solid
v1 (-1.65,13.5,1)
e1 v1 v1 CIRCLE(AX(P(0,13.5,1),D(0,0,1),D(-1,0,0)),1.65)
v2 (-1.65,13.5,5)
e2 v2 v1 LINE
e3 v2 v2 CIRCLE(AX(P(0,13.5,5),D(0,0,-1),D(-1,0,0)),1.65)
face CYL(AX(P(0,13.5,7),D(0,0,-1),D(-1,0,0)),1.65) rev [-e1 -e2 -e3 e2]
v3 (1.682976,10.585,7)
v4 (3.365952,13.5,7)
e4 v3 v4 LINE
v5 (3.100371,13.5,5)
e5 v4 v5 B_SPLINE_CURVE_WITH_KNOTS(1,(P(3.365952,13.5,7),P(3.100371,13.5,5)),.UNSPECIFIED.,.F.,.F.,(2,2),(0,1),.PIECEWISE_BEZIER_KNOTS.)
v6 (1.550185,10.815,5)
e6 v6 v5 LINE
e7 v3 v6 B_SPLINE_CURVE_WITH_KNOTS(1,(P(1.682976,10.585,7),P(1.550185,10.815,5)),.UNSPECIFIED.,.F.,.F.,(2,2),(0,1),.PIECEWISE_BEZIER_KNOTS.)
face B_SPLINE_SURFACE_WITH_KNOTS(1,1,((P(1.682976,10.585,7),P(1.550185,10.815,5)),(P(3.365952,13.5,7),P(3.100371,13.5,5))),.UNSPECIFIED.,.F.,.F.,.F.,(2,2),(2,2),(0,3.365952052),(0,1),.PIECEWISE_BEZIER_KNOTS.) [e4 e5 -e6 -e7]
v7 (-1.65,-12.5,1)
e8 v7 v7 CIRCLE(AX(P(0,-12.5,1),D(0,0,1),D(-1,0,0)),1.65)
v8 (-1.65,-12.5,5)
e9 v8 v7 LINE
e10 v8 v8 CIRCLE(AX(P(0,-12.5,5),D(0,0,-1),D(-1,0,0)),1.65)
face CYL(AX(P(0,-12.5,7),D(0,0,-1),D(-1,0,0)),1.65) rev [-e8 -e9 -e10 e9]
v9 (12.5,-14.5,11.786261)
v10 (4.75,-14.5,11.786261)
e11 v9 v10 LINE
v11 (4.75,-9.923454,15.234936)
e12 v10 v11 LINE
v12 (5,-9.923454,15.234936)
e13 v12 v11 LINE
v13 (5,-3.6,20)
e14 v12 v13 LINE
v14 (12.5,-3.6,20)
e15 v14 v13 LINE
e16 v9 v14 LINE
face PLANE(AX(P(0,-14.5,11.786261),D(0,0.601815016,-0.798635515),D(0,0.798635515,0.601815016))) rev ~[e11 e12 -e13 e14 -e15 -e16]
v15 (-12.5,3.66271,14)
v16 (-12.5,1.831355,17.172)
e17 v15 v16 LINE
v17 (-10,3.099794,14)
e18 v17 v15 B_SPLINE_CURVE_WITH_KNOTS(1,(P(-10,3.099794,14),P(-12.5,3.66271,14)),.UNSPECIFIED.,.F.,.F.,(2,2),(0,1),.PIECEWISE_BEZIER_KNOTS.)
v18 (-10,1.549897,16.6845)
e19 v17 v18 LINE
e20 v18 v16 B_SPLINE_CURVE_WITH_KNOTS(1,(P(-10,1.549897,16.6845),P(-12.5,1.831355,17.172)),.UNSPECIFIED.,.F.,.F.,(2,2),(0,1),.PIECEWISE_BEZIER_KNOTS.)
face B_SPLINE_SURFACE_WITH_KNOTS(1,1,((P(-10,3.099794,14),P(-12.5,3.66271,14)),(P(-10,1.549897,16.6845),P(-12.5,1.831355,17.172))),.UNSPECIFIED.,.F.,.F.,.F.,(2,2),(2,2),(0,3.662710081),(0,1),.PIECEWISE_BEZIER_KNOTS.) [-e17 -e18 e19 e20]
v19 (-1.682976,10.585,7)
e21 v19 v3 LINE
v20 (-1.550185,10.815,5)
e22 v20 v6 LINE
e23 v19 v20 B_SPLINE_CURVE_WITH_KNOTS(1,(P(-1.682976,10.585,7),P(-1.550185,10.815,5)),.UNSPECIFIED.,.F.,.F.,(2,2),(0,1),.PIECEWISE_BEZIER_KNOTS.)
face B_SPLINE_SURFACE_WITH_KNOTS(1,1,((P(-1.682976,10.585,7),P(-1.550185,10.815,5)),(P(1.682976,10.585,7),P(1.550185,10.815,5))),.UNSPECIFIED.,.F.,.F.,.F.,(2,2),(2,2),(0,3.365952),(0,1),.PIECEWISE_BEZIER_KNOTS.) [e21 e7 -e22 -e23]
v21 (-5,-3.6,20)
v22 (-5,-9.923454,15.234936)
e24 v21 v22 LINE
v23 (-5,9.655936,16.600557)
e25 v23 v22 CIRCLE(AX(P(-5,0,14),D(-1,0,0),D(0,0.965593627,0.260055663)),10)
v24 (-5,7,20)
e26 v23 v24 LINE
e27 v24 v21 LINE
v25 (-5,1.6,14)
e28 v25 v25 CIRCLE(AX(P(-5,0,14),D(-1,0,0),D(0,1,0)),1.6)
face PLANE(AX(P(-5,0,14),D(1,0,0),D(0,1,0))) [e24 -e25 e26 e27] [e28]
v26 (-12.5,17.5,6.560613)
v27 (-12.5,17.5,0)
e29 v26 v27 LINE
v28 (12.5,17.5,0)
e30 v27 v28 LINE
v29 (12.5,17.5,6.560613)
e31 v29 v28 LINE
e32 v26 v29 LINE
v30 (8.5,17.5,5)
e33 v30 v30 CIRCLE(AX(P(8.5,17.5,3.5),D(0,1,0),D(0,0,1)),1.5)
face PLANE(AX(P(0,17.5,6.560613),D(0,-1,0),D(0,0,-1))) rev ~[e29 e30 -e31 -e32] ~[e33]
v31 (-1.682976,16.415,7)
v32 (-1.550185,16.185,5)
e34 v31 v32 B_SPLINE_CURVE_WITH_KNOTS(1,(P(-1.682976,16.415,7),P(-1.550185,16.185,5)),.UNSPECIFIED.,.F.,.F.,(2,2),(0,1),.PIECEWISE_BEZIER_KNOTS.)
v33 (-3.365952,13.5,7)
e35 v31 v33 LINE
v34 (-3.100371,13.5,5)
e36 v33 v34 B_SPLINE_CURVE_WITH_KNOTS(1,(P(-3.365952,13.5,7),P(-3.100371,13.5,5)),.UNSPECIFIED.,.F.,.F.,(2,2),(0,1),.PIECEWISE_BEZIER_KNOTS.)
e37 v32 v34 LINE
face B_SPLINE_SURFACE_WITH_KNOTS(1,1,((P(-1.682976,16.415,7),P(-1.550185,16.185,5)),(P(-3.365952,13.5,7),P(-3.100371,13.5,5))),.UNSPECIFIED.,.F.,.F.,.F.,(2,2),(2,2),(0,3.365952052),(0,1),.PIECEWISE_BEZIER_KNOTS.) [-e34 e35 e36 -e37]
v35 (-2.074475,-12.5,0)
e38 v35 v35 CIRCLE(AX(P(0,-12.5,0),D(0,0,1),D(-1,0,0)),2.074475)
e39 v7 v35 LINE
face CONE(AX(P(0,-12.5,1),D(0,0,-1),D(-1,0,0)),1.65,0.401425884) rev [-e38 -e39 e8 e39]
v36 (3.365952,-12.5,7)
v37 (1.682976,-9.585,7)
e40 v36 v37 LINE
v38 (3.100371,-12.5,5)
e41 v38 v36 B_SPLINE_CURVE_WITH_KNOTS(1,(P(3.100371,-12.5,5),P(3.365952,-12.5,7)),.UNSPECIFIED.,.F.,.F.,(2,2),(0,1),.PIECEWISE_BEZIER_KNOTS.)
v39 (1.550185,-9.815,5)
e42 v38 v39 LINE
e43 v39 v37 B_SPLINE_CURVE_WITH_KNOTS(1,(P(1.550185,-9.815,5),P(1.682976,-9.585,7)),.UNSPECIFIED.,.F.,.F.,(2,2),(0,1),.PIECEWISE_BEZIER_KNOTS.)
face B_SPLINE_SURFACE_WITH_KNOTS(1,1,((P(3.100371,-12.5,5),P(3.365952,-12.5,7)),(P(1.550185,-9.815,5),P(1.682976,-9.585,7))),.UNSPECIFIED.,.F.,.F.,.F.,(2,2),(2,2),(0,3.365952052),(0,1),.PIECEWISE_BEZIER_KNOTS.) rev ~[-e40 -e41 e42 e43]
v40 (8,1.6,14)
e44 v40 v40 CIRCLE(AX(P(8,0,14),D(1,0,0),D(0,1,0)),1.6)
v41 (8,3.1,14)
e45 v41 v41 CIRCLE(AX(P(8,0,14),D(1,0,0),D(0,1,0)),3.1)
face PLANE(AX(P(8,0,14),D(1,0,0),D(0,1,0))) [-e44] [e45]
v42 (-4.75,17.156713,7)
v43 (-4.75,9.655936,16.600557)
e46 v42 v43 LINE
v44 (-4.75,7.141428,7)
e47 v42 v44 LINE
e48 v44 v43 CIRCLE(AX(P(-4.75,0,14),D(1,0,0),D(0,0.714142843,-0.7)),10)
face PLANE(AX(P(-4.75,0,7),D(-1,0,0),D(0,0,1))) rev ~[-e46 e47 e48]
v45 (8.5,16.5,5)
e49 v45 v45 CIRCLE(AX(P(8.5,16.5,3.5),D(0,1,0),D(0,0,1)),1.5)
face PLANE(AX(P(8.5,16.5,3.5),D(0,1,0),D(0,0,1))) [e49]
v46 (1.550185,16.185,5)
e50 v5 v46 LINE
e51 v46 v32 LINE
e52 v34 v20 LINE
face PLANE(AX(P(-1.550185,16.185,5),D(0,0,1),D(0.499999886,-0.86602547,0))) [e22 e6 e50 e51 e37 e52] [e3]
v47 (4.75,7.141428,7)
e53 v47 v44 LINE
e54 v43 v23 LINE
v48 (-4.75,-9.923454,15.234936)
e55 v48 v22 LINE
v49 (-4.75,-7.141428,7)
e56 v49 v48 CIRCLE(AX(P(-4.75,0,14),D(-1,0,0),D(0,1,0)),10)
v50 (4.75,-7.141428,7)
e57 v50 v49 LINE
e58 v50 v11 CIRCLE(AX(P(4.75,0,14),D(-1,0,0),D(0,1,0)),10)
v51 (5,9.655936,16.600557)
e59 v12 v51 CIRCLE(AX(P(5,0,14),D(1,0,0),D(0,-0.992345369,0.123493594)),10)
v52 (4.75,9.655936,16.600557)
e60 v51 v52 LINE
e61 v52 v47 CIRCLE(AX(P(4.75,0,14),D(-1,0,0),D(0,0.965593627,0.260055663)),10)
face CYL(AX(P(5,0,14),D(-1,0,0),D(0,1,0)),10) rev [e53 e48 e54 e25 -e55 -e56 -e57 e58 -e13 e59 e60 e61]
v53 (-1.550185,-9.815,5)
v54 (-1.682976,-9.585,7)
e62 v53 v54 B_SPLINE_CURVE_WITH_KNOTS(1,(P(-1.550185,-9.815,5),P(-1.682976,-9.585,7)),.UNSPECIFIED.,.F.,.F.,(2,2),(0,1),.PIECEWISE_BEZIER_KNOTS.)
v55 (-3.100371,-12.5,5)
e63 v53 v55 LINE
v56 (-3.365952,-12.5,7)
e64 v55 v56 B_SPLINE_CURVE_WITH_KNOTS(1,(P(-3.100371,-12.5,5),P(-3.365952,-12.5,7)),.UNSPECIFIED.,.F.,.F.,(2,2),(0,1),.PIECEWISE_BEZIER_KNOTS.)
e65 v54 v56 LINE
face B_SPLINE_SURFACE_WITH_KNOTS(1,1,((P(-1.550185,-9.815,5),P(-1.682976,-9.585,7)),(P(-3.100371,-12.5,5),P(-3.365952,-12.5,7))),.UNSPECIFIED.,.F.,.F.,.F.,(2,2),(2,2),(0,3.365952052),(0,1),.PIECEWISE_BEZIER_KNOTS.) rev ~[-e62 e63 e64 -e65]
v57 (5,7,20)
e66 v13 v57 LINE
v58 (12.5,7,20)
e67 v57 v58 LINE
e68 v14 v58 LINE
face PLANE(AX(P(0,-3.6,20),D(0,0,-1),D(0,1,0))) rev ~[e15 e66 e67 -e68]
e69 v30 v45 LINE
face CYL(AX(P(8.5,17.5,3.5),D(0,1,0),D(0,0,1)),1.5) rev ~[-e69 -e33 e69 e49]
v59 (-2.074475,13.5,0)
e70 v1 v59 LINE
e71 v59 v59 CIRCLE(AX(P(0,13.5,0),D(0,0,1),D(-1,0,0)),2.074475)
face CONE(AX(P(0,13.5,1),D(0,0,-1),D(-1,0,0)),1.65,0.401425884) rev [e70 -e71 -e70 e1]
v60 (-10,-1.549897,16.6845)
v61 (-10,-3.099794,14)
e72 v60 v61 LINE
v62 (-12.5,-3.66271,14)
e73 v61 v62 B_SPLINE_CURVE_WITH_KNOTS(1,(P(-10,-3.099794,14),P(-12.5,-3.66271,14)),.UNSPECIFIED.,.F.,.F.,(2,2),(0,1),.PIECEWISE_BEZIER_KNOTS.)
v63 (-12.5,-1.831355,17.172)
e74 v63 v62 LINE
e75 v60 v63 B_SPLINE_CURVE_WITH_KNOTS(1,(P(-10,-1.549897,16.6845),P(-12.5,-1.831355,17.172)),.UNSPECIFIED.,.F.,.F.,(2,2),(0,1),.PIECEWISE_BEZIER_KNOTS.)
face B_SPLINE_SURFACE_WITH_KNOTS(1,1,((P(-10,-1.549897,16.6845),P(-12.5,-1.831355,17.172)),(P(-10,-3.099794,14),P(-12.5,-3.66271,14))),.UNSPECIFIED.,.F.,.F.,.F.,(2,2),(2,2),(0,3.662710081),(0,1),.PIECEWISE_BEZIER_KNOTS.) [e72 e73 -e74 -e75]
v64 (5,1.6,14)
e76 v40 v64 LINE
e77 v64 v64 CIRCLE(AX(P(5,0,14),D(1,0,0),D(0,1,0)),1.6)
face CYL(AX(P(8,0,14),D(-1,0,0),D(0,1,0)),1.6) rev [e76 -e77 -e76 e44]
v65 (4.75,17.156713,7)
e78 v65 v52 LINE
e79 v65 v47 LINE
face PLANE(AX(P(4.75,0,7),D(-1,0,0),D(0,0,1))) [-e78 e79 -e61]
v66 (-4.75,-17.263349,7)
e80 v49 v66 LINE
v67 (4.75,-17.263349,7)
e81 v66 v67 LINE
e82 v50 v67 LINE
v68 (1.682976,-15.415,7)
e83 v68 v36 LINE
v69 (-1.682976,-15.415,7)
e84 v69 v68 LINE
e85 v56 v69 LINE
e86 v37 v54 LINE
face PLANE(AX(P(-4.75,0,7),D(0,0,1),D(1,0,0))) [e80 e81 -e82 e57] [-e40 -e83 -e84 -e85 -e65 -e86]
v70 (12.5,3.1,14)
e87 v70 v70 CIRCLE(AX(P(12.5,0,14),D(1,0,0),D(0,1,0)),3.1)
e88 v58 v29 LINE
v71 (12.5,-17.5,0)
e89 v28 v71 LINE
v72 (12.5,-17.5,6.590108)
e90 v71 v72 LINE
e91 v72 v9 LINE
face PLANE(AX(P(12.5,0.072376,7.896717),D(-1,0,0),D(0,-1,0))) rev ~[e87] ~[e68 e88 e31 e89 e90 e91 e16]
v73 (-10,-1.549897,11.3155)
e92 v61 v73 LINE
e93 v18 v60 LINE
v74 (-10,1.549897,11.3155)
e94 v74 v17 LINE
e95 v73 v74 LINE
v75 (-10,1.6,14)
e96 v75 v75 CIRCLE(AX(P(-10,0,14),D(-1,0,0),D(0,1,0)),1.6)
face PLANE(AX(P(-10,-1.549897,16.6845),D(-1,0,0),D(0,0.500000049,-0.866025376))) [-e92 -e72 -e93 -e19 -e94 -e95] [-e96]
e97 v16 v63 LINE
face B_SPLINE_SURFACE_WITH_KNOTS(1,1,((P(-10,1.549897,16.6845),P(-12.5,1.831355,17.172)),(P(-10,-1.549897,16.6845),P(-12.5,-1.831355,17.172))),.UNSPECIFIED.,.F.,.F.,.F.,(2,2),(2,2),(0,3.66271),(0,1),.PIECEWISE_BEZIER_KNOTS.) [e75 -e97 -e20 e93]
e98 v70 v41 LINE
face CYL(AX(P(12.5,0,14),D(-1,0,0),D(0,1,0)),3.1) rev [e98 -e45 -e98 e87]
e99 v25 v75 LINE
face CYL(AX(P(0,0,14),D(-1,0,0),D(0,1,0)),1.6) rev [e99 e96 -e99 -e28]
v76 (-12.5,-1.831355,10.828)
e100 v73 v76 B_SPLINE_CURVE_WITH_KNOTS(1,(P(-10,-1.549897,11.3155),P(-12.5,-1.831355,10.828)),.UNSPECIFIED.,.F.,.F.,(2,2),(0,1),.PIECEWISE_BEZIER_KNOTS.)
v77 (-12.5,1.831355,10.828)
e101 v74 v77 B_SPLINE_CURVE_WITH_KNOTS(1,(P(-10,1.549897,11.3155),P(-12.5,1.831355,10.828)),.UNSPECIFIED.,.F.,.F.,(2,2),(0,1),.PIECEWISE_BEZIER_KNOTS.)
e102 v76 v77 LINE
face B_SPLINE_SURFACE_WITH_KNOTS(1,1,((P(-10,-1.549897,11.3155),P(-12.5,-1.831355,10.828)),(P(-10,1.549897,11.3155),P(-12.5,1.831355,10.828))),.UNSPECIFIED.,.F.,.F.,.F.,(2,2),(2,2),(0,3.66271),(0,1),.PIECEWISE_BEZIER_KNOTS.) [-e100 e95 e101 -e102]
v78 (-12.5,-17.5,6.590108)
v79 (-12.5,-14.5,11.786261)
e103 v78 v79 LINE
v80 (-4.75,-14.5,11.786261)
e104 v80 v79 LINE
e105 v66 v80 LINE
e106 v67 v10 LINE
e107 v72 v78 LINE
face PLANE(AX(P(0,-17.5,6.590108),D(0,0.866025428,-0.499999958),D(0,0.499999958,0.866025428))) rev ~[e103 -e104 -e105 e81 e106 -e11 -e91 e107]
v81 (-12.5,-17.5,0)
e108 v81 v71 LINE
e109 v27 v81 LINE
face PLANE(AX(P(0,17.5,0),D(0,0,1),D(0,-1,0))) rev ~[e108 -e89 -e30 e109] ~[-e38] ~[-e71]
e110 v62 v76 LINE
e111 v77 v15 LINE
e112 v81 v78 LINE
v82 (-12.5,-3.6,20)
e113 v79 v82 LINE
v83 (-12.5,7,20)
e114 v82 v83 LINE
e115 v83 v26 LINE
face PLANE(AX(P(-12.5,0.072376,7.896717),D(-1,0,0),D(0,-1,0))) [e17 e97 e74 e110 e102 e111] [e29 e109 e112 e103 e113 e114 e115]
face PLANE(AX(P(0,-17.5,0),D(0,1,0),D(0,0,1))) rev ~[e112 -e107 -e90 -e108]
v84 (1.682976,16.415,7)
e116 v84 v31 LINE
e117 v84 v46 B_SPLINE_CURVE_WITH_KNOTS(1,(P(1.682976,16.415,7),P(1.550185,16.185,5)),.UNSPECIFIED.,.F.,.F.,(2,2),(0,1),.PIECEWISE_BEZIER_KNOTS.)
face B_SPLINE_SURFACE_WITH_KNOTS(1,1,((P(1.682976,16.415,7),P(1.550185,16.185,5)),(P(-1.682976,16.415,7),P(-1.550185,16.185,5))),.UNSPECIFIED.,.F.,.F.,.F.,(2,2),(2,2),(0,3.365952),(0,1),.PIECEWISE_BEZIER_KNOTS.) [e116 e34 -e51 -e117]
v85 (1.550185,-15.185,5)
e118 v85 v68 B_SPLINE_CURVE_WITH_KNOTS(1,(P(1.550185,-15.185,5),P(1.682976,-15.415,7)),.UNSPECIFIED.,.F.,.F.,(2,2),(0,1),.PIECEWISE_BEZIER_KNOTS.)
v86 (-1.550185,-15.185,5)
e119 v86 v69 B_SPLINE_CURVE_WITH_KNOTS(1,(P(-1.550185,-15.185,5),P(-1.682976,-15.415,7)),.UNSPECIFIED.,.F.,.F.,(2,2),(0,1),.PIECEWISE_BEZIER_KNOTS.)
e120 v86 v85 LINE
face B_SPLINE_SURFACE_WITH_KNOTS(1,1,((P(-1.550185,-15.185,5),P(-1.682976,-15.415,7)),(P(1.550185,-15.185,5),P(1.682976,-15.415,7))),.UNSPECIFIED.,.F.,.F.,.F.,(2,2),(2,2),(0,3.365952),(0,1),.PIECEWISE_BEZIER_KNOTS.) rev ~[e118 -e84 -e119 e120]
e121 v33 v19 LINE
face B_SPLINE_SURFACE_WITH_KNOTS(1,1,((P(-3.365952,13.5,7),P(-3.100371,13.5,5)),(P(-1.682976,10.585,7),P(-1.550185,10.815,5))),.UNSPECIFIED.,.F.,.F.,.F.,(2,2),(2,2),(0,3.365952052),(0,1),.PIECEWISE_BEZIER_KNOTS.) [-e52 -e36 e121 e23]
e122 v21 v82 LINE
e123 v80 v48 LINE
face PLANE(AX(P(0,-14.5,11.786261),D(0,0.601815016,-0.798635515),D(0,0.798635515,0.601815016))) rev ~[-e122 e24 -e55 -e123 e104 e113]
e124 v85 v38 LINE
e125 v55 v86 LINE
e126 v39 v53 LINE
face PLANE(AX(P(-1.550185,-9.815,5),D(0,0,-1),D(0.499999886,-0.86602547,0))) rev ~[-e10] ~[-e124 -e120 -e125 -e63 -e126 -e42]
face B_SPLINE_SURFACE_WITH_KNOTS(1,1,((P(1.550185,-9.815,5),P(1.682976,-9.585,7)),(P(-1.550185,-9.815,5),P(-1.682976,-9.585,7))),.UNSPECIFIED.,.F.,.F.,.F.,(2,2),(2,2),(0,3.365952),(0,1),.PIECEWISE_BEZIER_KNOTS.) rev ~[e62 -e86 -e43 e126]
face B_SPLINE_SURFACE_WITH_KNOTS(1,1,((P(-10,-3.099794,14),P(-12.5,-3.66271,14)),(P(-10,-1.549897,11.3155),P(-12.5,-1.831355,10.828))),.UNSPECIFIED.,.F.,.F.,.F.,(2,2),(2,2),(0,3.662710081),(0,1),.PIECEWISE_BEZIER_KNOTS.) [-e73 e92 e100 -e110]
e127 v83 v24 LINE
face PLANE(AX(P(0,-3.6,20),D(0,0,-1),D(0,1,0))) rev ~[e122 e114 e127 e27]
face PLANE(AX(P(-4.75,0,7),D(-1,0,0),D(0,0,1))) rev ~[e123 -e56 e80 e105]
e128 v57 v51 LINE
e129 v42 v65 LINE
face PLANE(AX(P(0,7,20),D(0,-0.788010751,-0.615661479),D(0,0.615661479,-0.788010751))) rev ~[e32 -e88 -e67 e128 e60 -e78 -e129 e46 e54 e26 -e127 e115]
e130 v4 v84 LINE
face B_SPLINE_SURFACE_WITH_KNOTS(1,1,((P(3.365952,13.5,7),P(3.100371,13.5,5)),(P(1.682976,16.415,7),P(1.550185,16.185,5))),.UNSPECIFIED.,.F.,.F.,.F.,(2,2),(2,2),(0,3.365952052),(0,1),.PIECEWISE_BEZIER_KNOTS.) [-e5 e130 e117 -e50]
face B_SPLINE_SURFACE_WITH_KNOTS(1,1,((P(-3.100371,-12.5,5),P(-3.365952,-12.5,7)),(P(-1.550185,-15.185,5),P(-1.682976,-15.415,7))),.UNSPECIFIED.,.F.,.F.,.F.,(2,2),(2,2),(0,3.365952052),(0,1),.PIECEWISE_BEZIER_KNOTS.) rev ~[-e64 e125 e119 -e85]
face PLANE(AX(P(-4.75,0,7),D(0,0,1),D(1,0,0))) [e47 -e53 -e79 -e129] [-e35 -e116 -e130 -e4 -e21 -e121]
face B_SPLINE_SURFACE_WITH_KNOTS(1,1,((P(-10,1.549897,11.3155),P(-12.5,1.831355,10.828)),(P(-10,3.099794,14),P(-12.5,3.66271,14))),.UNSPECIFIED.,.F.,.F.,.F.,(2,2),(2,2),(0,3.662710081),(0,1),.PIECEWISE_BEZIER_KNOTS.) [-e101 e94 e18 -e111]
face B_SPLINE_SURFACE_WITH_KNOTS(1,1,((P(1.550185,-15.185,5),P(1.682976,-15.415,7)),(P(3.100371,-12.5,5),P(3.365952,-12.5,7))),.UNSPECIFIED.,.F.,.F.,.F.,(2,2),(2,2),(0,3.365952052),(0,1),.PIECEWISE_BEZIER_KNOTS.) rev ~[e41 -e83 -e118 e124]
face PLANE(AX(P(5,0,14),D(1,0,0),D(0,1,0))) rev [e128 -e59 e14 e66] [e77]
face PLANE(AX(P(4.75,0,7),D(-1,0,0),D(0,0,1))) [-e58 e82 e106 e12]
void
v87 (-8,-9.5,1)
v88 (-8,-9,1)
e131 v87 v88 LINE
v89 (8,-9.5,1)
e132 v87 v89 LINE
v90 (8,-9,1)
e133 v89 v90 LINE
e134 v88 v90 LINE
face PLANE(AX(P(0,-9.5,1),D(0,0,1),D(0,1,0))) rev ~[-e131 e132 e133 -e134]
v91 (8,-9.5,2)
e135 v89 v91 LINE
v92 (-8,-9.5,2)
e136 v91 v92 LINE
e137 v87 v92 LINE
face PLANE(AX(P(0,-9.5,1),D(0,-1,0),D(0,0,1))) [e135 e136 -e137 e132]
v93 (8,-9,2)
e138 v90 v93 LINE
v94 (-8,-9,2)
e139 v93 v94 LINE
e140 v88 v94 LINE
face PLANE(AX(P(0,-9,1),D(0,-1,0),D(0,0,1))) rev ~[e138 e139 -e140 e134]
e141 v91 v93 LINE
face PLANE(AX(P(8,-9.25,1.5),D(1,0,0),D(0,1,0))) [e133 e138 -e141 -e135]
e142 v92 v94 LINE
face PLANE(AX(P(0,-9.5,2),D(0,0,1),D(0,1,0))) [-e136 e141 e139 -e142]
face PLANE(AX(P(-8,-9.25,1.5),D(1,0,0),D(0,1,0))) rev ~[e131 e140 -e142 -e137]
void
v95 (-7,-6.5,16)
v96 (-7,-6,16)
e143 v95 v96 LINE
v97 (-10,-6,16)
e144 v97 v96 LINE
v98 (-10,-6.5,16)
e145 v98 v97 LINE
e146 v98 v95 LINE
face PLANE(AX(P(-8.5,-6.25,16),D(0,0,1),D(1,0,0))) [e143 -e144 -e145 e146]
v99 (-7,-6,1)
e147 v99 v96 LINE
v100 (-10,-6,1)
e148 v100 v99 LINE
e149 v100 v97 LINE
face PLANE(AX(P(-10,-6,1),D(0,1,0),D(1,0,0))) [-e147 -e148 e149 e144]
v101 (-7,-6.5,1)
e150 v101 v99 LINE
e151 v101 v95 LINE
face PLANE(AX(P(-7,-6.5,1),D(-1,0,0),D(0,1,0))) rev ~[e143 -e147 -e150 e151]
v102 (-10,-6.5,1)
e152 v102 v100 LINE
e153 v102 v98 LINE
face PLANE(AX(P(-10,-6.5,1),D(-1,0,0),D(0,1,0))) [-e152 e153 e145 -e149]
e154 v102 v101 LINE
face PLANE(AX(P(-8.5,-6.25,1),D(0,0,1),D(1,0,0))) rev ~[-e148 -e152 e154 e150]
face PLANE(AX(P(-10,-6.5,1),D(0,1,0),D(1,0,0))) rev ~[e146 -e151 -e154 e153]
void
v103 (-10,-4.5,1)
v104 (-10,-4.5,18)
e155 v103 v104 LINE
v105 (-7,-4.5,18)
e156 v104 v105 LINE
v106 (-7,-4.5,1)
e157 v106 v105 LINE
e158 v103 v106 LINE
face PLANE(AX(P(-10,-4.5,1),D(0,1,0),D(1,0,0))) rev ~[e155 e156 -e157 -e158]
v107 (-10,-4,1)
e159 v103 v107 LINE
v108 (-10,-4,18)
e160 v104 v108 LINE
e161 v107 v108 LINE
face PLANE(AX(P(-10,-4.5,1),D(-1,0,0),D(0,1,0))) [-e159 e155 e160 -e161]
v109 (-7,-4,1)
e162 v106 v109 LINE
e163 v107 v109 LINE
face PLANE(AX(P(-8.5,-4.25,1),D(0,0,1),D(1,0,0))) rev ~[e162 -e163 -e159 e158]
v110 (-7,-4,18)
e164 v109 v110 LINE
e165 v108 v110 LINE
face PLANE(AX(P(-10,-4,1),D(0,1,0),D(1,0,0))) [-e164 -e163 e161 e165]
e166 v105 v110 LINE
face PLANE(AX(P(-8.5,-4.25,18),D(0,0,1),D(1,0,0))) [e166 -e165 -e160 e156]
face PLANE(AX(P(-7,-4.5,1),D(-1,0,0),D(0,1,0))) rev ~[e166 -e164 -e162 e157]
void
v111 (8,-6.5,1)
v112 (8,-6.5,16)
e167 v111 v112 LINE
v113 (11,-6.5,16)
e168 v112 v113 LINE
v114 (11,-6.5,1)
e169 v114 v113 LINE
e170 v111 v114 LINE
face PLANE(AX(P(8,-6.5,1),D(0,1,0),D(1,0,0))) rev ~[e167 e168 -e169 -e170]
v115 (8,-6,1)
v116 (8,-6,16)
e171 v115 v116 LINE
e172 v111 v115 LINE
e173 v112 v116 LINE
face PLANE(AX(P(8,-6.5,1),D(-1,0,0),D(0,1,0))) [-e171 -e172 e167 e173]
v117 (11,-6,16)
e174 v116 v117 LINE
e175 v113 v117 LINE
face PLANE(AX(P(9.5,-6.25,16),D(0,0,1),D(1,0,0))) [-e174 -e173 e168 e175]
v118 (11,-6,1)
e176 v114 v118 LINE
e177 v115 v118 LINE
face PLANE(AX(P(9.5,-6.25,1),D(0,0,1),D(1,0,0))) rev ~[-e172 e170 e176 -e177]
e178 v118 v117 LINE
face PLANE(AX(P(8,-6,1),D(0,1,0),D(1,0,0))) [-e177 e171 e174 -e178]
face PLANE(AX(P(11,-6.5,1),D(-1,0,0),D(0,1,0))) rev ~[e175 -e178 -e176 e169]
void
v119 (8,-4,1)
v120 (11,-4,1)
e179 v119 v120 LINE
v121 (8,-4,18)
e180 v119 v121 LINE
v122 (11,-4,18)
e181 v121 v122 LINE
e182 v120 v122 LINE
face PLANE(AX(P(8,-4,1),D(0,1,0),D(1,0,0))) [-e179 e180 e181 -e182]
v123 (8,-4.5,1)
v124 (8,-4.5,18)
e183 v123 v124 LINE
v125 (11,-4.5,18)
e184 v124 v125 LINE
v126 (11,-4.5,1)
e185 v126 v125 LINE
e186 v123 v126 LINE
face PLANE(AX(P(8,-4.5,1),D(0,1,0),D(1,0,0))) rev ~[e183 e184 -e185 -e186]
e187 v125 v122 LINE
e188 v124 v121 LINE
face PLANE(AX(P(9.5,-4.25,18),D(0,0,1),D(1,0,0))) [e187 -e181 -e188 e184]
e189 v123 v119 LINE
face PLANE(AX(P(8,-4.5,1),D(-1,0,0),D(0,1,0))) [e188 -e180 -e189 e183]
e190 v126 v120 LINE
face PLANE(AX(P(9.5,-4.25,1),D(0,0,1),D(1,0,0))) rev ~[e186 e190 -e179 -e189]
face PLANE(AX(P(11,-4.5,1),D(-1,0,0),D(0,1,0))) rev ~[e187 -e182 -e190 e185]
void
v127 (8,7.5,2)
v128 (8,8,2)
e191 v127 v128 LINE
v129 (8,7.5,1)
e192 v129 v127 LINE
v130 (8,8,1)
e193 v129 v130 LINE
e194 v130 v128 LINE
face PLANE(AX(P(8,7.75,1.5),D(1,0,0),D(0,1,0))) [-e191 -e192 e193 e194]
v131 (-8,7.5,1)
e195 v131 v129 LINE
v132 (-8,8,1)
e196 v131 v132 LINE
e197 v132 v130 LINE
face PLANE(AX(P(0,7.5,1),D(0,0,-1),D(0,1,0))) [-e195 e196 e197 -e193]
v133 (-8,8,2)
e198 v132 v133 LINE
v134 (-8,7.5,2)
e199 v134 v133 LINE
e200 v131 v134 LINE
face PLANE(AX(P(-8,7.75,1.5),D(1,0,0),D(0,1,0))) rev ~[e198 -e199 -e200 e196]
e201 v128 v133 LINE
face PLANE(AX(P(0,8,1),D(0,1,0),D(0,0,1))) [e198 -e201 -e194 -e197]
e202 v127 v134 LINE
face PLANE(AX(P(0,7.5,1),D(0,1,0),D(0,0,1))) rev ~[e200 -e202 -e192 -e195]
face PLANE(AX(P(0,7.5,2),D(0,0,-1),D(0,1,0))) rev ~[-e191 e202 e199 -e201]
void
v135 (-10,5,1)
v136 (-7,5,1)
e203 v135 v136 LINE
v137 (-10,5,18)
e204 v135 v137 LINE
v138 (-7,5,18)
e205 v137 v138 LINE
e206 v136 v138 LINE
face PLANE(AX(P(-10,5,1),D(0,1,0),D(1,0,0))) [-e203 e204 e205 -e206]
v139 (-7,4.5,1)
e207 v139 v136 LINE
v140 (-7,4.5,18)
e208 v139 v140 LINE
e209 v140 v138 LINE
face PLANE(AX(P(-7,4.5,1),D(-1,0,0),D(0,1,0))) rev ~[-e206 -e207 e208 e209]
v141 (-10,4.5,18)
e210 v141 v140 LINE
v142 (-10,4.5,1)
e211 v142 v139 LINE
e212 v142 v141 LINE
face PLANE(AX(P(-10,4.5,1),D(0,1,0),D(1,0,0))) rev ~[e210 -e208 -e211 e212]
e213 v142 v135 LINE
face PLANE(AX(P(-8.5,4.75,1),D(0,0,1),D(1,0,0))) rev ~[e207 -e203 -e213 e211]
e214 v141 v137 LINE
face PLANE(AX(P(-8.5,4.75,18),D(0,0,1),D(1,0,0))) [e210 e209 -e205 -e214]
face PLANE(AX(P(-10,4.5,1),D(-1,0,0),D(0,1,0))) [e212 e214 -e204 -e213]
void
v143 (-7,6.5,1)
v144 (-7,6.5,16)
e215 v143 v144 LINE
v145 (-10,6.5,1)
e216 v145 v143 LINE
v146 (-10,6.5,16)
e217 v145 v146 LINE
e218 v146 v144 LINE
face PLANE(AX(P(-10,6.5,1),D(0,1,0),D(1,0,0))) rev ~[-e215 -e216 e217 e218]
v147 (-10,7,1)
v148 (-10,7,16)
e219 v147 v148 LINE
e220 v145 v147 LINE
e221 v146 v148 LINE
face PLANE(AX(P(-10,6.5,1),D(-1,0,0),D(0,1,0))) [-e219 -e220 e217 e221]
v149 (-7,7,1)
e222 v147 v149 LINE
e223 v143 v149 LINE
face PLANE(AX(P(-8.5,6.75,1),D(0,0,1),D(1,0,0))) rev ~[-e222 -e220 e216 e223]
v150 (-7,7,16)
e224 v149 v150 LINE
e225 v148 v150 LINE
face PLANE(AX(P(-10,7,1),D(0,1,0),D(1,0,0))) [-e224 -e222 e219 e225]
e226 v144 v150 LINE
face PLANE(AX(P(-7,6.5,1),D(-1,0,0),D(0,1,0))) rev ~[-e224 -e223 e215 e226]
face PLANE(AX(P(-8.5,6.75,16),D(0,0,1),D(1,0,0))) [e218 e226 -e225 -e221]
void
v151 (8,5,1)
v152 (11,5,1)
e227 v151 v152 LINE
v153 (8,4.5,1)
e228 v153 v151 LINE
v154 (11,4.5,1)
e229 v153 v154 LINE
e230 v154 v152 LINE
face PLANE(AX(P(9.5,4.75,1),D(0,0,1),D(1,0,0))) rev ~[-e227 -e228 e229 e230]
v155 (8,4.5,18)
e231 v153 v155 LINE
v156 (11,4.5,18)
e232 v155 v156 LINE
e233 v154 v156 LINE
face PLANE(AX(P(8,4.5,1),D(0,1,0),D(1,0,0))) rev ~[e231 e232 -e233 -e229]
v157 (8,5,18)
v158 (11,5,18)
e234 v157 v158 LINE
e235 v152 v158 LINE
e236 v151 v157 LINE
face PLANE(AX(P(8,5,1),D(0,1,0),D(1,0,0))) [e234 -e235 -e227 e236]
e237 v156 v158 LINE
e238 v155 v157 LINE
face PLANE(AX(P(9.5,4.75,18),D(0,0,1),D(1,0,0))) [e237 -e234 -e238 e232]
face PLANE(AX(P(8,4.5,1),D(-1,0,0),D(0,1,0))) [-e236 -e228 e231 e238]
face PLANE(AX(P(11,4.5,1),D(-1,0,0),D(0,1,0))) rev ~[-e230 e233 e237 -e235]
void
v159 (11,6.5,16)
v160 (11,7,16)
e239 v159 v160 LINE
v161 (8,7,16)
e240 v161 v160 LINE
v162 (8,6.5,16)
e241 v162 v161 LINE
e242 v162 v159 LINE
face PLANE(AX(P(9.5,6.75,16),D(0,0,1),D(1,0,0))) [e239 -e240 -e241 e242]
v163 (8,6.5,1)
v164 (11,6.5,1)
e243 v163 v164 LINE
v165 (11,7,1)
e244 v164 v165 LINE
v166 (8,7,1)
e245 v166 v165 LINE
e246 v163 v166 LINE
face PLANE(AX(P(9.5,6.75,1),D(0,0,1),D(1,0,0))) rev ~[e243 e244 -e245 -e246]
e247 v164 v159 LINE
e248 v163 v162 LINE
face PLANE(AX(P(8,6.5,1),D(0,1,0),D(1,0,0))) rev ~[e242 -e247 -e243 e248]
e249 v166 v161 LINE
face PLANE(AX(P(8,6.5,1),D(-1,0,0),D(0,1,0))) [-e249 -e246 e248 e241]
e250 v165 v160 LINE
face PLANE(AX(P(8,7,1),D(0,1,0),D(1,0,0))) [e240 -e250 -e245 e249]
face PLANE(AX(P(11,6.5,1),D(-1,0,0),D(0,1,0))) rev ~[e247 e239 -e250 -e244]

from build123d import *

# Parameters (mm, degrees)
SKETCH_R          = 1.6
PAD_DEPTH         = 12.5
SKETCH001_W       = 9.5
SKETCH001_H       = 14
POCKET_DEPTH      = 17.501
POCKET_DEPTH_BACK = -17.501
SKETCH011_R       = 1.5
POCKET001_DEPTH   = 1
SKETCH012_W       = 0.5
SKETCH012_H       = 1
POCKET002_DEPTH   = 8
SKETCH013_W       = 3
SKETCH013_H       = 0.5
POCKET003_DEPTH   = 17
SKETCH014_W       = 3
SKETCH014_H       = 0.5
POCKET004_DEPTH   = 15


with BuildPart() as part:
    # Sketch → Pad (new body, symmetric)
    with BuildSketch(Plane.YZ):
        Polygon((-17.5, 0), (-17.5, 6.590108), (-14.5, 11.786261), (-3.6, 20), (7, 20), (17.5, 6.560613), (17.5, 0), align=None)
        with Locations((0, 14)):
            Circle(SKETCH_R, mode=Mode.SUBTRACT)
    extrude(amount=PAD_DEPTH, both=True)

    # Sketch001 → Pocket (cut, two sides)
    with BuildSketch(Plane.XZ) as pocket_sk:
        with Locations((0, 14)):
            Rectangle(SKETCH001_W, SKETCH001_H)
    extrude(amount=-POCKET_DEPTH, mode=Mode.SUBTRACT)
    extrude(pocket_sk.sketch, amount=-POCKET_DEPTH_BACK, mode=Mode.SUBTRACT)

    # Sketch002 → Groove (revolve, cut)
    with BuildSketch(Plane.XY.offset(14)):
        Polygon((-5, 0), (12.5, 0), (12.5, 3.1), (8, 3.1), (8, 1.6), (5, 1.6), (5, 10), (-5, 10), align=None)
    revolve(axis=Axis((-5, 0, 14), (1, 0, 0)), mode=Mode.SUBTRACT)

    # Sketch004 → SubtractiveLoft section 0
    with BuildSketch(Plane.YZ.offset(-10)):
        Polygon((-1.549897, 16.6845), (-3.099794, 14), (-1.549897, 11.3155), (1.549897, 11.3155), (3.099794, 14), (1.549897, 16.6845), align=None)
    # Sketch003 → SubtractiveLoft section 1
    with BuildSketch(Plane.YZ.offset(-12.5)):
        Polygon((-3.66271, 14), (-1.831355, 10.828), (1.831355, 10.828), (3.66271, 14), (1.831355, 17.172), (-1.831355, 17.172), align=None)
    loft(mode=Mode.SUBTRACT)

    # Sketch006 → SubtractiveLoft001 section 0
    with BuildSketch(Plane.XY.offset(5)):
        Polygon((-1.550185, -9.815), (-3.100371, -12.5), (-1.550185, -15.185), (1.550185, -15.185), (3.100371, -12.5), (1.550185, -9.815), align=None)
    # Sketch005 → SubtractiveLoft001 section 1
    with BuildSketch(Plane.XY.offset(7)):
        Polygon((-1.682976, -9.585), (-3.365952, -12.5), (-1.682976, -15.415), (1.682976, -15.415), (3.365952, -12.5), (1.682976, -9.585), align=None)
    loft(mode=Mode.SUBTRACT)

    # Sketch007 → Groove001 (revolve, cut)
    with BuildSketch(Plane.XZ.offset(12.5)):
        Polygon((0, 7), (-1.65, 7), (-1.65, 1), (-2.074475, 0), (0, 0), align=None)
    revolve(axis=Axis((0, -12.5, 0), (0, 0, 1)), mode=Mode.SUBTRACT)

    # Sketch008 → SubtractiveLoft002 section 0
    with BuildSketch(Plane.XY.offset(7)):
        Polygon((-1.682976, 16.415), (-3.365952, 13.5), (-1.682976, 10.585), (1.682976, 10.585), (3.365952, 13.5), (1.682976, 16.415), align=None)
    # Sketch009 → SubtractiveLoft002 section 1
    with BuildSketch(Plane.XY.offset(5)):
        Polygon((-1.550185, 16.185), (-3.100371, 13.5), (-1.550185, 10.815), (1.550185, 10.815), (3.100371, 13.5), (1.550185, 16.185), align=None)
    loft(mode=Mode.SUBTRACT)

    # Sketch010 → Groove002 (revolve, cut)
    with BuildSketch(Plane.XZ.offset(-13.5)):
        Polygon((0, 7), (-1.65, 7), (-1.65, 1), (-2.074475, 0), (0, 0), align=None)
    revolve(axis=Axis((0, 13.5, 0), (0, 0, 1)), mode=Mode.SUBTRACT)

    # Sketch011 (on Face6 of Groove002) → Pocket001 (cut)
    with BuildSketch(Plane.ZX.offset(17.5)):
        with Locations((3.5, 8.5)):
            Circle(SKETCH011_R)
    extrude(amount=-POCKET001_DEPTH, mode=Mode.SUBTRACT)

    # Sketch012 → Pocket002 (cut, symmetric)
    with BuildSketch(Plane.YZ):
        with Locations((-9.25, 1.5)):
            Rectangle(SKETCH012_W, SKETCH012_H)
        with Locations((7.75, 1.5)):
            Rectangle(SKETCH012_W, SKETCH012_H)
    extrude(amount=POCKET002_DEPTH, both=True, mode=Mode.SUBTRACT)

    # Sketch013 → Pocket003 (cut)
    with BuildSketch(Plane.XY.offset(1)):
        with Locations((-8.5, 4.75)):
            Rectangle(SKETCH013_W, SKETCH013_H)
        with Locations((9.5, 4.75)):
            Rectangle(SKETCH013_W, SKETCH013_H)
        with Locations((9.5, -4.25)):
            Rectangle(SKETCH013_W, SKETCH013_H)
        with Locations((-8.5, -4.25)):
            Rectangle(SKETCH013_W, SKETCH013_H)
    extrude(amount=POCKET003_DEPTH, mode=Mode.SUBTRACT)

    # Sketch014 → Pocket004 (cut)
    with BuildSketch(Plane.XY.offset(1)):
        with Locations((-8.5, 6.75)):
            Rectangle(SKETCH014_W, SKETCH014_H)
        with Locations((9.5, 6.75)):
            Rectangle(SKETCH014_W, SKETCH014_H)
        with Locations((9.5, -6.25)):
            Rectangle(SKETCH014_W, SKETCH014_H)
        with Locations((-8.5, -6.25)):
            Rectangle(SKETCH014_W, SKETCH014_H)
    extrude(amount=POCKET004_DEPTH, mode=Mode.SUBTRACT)


solid = part.part
